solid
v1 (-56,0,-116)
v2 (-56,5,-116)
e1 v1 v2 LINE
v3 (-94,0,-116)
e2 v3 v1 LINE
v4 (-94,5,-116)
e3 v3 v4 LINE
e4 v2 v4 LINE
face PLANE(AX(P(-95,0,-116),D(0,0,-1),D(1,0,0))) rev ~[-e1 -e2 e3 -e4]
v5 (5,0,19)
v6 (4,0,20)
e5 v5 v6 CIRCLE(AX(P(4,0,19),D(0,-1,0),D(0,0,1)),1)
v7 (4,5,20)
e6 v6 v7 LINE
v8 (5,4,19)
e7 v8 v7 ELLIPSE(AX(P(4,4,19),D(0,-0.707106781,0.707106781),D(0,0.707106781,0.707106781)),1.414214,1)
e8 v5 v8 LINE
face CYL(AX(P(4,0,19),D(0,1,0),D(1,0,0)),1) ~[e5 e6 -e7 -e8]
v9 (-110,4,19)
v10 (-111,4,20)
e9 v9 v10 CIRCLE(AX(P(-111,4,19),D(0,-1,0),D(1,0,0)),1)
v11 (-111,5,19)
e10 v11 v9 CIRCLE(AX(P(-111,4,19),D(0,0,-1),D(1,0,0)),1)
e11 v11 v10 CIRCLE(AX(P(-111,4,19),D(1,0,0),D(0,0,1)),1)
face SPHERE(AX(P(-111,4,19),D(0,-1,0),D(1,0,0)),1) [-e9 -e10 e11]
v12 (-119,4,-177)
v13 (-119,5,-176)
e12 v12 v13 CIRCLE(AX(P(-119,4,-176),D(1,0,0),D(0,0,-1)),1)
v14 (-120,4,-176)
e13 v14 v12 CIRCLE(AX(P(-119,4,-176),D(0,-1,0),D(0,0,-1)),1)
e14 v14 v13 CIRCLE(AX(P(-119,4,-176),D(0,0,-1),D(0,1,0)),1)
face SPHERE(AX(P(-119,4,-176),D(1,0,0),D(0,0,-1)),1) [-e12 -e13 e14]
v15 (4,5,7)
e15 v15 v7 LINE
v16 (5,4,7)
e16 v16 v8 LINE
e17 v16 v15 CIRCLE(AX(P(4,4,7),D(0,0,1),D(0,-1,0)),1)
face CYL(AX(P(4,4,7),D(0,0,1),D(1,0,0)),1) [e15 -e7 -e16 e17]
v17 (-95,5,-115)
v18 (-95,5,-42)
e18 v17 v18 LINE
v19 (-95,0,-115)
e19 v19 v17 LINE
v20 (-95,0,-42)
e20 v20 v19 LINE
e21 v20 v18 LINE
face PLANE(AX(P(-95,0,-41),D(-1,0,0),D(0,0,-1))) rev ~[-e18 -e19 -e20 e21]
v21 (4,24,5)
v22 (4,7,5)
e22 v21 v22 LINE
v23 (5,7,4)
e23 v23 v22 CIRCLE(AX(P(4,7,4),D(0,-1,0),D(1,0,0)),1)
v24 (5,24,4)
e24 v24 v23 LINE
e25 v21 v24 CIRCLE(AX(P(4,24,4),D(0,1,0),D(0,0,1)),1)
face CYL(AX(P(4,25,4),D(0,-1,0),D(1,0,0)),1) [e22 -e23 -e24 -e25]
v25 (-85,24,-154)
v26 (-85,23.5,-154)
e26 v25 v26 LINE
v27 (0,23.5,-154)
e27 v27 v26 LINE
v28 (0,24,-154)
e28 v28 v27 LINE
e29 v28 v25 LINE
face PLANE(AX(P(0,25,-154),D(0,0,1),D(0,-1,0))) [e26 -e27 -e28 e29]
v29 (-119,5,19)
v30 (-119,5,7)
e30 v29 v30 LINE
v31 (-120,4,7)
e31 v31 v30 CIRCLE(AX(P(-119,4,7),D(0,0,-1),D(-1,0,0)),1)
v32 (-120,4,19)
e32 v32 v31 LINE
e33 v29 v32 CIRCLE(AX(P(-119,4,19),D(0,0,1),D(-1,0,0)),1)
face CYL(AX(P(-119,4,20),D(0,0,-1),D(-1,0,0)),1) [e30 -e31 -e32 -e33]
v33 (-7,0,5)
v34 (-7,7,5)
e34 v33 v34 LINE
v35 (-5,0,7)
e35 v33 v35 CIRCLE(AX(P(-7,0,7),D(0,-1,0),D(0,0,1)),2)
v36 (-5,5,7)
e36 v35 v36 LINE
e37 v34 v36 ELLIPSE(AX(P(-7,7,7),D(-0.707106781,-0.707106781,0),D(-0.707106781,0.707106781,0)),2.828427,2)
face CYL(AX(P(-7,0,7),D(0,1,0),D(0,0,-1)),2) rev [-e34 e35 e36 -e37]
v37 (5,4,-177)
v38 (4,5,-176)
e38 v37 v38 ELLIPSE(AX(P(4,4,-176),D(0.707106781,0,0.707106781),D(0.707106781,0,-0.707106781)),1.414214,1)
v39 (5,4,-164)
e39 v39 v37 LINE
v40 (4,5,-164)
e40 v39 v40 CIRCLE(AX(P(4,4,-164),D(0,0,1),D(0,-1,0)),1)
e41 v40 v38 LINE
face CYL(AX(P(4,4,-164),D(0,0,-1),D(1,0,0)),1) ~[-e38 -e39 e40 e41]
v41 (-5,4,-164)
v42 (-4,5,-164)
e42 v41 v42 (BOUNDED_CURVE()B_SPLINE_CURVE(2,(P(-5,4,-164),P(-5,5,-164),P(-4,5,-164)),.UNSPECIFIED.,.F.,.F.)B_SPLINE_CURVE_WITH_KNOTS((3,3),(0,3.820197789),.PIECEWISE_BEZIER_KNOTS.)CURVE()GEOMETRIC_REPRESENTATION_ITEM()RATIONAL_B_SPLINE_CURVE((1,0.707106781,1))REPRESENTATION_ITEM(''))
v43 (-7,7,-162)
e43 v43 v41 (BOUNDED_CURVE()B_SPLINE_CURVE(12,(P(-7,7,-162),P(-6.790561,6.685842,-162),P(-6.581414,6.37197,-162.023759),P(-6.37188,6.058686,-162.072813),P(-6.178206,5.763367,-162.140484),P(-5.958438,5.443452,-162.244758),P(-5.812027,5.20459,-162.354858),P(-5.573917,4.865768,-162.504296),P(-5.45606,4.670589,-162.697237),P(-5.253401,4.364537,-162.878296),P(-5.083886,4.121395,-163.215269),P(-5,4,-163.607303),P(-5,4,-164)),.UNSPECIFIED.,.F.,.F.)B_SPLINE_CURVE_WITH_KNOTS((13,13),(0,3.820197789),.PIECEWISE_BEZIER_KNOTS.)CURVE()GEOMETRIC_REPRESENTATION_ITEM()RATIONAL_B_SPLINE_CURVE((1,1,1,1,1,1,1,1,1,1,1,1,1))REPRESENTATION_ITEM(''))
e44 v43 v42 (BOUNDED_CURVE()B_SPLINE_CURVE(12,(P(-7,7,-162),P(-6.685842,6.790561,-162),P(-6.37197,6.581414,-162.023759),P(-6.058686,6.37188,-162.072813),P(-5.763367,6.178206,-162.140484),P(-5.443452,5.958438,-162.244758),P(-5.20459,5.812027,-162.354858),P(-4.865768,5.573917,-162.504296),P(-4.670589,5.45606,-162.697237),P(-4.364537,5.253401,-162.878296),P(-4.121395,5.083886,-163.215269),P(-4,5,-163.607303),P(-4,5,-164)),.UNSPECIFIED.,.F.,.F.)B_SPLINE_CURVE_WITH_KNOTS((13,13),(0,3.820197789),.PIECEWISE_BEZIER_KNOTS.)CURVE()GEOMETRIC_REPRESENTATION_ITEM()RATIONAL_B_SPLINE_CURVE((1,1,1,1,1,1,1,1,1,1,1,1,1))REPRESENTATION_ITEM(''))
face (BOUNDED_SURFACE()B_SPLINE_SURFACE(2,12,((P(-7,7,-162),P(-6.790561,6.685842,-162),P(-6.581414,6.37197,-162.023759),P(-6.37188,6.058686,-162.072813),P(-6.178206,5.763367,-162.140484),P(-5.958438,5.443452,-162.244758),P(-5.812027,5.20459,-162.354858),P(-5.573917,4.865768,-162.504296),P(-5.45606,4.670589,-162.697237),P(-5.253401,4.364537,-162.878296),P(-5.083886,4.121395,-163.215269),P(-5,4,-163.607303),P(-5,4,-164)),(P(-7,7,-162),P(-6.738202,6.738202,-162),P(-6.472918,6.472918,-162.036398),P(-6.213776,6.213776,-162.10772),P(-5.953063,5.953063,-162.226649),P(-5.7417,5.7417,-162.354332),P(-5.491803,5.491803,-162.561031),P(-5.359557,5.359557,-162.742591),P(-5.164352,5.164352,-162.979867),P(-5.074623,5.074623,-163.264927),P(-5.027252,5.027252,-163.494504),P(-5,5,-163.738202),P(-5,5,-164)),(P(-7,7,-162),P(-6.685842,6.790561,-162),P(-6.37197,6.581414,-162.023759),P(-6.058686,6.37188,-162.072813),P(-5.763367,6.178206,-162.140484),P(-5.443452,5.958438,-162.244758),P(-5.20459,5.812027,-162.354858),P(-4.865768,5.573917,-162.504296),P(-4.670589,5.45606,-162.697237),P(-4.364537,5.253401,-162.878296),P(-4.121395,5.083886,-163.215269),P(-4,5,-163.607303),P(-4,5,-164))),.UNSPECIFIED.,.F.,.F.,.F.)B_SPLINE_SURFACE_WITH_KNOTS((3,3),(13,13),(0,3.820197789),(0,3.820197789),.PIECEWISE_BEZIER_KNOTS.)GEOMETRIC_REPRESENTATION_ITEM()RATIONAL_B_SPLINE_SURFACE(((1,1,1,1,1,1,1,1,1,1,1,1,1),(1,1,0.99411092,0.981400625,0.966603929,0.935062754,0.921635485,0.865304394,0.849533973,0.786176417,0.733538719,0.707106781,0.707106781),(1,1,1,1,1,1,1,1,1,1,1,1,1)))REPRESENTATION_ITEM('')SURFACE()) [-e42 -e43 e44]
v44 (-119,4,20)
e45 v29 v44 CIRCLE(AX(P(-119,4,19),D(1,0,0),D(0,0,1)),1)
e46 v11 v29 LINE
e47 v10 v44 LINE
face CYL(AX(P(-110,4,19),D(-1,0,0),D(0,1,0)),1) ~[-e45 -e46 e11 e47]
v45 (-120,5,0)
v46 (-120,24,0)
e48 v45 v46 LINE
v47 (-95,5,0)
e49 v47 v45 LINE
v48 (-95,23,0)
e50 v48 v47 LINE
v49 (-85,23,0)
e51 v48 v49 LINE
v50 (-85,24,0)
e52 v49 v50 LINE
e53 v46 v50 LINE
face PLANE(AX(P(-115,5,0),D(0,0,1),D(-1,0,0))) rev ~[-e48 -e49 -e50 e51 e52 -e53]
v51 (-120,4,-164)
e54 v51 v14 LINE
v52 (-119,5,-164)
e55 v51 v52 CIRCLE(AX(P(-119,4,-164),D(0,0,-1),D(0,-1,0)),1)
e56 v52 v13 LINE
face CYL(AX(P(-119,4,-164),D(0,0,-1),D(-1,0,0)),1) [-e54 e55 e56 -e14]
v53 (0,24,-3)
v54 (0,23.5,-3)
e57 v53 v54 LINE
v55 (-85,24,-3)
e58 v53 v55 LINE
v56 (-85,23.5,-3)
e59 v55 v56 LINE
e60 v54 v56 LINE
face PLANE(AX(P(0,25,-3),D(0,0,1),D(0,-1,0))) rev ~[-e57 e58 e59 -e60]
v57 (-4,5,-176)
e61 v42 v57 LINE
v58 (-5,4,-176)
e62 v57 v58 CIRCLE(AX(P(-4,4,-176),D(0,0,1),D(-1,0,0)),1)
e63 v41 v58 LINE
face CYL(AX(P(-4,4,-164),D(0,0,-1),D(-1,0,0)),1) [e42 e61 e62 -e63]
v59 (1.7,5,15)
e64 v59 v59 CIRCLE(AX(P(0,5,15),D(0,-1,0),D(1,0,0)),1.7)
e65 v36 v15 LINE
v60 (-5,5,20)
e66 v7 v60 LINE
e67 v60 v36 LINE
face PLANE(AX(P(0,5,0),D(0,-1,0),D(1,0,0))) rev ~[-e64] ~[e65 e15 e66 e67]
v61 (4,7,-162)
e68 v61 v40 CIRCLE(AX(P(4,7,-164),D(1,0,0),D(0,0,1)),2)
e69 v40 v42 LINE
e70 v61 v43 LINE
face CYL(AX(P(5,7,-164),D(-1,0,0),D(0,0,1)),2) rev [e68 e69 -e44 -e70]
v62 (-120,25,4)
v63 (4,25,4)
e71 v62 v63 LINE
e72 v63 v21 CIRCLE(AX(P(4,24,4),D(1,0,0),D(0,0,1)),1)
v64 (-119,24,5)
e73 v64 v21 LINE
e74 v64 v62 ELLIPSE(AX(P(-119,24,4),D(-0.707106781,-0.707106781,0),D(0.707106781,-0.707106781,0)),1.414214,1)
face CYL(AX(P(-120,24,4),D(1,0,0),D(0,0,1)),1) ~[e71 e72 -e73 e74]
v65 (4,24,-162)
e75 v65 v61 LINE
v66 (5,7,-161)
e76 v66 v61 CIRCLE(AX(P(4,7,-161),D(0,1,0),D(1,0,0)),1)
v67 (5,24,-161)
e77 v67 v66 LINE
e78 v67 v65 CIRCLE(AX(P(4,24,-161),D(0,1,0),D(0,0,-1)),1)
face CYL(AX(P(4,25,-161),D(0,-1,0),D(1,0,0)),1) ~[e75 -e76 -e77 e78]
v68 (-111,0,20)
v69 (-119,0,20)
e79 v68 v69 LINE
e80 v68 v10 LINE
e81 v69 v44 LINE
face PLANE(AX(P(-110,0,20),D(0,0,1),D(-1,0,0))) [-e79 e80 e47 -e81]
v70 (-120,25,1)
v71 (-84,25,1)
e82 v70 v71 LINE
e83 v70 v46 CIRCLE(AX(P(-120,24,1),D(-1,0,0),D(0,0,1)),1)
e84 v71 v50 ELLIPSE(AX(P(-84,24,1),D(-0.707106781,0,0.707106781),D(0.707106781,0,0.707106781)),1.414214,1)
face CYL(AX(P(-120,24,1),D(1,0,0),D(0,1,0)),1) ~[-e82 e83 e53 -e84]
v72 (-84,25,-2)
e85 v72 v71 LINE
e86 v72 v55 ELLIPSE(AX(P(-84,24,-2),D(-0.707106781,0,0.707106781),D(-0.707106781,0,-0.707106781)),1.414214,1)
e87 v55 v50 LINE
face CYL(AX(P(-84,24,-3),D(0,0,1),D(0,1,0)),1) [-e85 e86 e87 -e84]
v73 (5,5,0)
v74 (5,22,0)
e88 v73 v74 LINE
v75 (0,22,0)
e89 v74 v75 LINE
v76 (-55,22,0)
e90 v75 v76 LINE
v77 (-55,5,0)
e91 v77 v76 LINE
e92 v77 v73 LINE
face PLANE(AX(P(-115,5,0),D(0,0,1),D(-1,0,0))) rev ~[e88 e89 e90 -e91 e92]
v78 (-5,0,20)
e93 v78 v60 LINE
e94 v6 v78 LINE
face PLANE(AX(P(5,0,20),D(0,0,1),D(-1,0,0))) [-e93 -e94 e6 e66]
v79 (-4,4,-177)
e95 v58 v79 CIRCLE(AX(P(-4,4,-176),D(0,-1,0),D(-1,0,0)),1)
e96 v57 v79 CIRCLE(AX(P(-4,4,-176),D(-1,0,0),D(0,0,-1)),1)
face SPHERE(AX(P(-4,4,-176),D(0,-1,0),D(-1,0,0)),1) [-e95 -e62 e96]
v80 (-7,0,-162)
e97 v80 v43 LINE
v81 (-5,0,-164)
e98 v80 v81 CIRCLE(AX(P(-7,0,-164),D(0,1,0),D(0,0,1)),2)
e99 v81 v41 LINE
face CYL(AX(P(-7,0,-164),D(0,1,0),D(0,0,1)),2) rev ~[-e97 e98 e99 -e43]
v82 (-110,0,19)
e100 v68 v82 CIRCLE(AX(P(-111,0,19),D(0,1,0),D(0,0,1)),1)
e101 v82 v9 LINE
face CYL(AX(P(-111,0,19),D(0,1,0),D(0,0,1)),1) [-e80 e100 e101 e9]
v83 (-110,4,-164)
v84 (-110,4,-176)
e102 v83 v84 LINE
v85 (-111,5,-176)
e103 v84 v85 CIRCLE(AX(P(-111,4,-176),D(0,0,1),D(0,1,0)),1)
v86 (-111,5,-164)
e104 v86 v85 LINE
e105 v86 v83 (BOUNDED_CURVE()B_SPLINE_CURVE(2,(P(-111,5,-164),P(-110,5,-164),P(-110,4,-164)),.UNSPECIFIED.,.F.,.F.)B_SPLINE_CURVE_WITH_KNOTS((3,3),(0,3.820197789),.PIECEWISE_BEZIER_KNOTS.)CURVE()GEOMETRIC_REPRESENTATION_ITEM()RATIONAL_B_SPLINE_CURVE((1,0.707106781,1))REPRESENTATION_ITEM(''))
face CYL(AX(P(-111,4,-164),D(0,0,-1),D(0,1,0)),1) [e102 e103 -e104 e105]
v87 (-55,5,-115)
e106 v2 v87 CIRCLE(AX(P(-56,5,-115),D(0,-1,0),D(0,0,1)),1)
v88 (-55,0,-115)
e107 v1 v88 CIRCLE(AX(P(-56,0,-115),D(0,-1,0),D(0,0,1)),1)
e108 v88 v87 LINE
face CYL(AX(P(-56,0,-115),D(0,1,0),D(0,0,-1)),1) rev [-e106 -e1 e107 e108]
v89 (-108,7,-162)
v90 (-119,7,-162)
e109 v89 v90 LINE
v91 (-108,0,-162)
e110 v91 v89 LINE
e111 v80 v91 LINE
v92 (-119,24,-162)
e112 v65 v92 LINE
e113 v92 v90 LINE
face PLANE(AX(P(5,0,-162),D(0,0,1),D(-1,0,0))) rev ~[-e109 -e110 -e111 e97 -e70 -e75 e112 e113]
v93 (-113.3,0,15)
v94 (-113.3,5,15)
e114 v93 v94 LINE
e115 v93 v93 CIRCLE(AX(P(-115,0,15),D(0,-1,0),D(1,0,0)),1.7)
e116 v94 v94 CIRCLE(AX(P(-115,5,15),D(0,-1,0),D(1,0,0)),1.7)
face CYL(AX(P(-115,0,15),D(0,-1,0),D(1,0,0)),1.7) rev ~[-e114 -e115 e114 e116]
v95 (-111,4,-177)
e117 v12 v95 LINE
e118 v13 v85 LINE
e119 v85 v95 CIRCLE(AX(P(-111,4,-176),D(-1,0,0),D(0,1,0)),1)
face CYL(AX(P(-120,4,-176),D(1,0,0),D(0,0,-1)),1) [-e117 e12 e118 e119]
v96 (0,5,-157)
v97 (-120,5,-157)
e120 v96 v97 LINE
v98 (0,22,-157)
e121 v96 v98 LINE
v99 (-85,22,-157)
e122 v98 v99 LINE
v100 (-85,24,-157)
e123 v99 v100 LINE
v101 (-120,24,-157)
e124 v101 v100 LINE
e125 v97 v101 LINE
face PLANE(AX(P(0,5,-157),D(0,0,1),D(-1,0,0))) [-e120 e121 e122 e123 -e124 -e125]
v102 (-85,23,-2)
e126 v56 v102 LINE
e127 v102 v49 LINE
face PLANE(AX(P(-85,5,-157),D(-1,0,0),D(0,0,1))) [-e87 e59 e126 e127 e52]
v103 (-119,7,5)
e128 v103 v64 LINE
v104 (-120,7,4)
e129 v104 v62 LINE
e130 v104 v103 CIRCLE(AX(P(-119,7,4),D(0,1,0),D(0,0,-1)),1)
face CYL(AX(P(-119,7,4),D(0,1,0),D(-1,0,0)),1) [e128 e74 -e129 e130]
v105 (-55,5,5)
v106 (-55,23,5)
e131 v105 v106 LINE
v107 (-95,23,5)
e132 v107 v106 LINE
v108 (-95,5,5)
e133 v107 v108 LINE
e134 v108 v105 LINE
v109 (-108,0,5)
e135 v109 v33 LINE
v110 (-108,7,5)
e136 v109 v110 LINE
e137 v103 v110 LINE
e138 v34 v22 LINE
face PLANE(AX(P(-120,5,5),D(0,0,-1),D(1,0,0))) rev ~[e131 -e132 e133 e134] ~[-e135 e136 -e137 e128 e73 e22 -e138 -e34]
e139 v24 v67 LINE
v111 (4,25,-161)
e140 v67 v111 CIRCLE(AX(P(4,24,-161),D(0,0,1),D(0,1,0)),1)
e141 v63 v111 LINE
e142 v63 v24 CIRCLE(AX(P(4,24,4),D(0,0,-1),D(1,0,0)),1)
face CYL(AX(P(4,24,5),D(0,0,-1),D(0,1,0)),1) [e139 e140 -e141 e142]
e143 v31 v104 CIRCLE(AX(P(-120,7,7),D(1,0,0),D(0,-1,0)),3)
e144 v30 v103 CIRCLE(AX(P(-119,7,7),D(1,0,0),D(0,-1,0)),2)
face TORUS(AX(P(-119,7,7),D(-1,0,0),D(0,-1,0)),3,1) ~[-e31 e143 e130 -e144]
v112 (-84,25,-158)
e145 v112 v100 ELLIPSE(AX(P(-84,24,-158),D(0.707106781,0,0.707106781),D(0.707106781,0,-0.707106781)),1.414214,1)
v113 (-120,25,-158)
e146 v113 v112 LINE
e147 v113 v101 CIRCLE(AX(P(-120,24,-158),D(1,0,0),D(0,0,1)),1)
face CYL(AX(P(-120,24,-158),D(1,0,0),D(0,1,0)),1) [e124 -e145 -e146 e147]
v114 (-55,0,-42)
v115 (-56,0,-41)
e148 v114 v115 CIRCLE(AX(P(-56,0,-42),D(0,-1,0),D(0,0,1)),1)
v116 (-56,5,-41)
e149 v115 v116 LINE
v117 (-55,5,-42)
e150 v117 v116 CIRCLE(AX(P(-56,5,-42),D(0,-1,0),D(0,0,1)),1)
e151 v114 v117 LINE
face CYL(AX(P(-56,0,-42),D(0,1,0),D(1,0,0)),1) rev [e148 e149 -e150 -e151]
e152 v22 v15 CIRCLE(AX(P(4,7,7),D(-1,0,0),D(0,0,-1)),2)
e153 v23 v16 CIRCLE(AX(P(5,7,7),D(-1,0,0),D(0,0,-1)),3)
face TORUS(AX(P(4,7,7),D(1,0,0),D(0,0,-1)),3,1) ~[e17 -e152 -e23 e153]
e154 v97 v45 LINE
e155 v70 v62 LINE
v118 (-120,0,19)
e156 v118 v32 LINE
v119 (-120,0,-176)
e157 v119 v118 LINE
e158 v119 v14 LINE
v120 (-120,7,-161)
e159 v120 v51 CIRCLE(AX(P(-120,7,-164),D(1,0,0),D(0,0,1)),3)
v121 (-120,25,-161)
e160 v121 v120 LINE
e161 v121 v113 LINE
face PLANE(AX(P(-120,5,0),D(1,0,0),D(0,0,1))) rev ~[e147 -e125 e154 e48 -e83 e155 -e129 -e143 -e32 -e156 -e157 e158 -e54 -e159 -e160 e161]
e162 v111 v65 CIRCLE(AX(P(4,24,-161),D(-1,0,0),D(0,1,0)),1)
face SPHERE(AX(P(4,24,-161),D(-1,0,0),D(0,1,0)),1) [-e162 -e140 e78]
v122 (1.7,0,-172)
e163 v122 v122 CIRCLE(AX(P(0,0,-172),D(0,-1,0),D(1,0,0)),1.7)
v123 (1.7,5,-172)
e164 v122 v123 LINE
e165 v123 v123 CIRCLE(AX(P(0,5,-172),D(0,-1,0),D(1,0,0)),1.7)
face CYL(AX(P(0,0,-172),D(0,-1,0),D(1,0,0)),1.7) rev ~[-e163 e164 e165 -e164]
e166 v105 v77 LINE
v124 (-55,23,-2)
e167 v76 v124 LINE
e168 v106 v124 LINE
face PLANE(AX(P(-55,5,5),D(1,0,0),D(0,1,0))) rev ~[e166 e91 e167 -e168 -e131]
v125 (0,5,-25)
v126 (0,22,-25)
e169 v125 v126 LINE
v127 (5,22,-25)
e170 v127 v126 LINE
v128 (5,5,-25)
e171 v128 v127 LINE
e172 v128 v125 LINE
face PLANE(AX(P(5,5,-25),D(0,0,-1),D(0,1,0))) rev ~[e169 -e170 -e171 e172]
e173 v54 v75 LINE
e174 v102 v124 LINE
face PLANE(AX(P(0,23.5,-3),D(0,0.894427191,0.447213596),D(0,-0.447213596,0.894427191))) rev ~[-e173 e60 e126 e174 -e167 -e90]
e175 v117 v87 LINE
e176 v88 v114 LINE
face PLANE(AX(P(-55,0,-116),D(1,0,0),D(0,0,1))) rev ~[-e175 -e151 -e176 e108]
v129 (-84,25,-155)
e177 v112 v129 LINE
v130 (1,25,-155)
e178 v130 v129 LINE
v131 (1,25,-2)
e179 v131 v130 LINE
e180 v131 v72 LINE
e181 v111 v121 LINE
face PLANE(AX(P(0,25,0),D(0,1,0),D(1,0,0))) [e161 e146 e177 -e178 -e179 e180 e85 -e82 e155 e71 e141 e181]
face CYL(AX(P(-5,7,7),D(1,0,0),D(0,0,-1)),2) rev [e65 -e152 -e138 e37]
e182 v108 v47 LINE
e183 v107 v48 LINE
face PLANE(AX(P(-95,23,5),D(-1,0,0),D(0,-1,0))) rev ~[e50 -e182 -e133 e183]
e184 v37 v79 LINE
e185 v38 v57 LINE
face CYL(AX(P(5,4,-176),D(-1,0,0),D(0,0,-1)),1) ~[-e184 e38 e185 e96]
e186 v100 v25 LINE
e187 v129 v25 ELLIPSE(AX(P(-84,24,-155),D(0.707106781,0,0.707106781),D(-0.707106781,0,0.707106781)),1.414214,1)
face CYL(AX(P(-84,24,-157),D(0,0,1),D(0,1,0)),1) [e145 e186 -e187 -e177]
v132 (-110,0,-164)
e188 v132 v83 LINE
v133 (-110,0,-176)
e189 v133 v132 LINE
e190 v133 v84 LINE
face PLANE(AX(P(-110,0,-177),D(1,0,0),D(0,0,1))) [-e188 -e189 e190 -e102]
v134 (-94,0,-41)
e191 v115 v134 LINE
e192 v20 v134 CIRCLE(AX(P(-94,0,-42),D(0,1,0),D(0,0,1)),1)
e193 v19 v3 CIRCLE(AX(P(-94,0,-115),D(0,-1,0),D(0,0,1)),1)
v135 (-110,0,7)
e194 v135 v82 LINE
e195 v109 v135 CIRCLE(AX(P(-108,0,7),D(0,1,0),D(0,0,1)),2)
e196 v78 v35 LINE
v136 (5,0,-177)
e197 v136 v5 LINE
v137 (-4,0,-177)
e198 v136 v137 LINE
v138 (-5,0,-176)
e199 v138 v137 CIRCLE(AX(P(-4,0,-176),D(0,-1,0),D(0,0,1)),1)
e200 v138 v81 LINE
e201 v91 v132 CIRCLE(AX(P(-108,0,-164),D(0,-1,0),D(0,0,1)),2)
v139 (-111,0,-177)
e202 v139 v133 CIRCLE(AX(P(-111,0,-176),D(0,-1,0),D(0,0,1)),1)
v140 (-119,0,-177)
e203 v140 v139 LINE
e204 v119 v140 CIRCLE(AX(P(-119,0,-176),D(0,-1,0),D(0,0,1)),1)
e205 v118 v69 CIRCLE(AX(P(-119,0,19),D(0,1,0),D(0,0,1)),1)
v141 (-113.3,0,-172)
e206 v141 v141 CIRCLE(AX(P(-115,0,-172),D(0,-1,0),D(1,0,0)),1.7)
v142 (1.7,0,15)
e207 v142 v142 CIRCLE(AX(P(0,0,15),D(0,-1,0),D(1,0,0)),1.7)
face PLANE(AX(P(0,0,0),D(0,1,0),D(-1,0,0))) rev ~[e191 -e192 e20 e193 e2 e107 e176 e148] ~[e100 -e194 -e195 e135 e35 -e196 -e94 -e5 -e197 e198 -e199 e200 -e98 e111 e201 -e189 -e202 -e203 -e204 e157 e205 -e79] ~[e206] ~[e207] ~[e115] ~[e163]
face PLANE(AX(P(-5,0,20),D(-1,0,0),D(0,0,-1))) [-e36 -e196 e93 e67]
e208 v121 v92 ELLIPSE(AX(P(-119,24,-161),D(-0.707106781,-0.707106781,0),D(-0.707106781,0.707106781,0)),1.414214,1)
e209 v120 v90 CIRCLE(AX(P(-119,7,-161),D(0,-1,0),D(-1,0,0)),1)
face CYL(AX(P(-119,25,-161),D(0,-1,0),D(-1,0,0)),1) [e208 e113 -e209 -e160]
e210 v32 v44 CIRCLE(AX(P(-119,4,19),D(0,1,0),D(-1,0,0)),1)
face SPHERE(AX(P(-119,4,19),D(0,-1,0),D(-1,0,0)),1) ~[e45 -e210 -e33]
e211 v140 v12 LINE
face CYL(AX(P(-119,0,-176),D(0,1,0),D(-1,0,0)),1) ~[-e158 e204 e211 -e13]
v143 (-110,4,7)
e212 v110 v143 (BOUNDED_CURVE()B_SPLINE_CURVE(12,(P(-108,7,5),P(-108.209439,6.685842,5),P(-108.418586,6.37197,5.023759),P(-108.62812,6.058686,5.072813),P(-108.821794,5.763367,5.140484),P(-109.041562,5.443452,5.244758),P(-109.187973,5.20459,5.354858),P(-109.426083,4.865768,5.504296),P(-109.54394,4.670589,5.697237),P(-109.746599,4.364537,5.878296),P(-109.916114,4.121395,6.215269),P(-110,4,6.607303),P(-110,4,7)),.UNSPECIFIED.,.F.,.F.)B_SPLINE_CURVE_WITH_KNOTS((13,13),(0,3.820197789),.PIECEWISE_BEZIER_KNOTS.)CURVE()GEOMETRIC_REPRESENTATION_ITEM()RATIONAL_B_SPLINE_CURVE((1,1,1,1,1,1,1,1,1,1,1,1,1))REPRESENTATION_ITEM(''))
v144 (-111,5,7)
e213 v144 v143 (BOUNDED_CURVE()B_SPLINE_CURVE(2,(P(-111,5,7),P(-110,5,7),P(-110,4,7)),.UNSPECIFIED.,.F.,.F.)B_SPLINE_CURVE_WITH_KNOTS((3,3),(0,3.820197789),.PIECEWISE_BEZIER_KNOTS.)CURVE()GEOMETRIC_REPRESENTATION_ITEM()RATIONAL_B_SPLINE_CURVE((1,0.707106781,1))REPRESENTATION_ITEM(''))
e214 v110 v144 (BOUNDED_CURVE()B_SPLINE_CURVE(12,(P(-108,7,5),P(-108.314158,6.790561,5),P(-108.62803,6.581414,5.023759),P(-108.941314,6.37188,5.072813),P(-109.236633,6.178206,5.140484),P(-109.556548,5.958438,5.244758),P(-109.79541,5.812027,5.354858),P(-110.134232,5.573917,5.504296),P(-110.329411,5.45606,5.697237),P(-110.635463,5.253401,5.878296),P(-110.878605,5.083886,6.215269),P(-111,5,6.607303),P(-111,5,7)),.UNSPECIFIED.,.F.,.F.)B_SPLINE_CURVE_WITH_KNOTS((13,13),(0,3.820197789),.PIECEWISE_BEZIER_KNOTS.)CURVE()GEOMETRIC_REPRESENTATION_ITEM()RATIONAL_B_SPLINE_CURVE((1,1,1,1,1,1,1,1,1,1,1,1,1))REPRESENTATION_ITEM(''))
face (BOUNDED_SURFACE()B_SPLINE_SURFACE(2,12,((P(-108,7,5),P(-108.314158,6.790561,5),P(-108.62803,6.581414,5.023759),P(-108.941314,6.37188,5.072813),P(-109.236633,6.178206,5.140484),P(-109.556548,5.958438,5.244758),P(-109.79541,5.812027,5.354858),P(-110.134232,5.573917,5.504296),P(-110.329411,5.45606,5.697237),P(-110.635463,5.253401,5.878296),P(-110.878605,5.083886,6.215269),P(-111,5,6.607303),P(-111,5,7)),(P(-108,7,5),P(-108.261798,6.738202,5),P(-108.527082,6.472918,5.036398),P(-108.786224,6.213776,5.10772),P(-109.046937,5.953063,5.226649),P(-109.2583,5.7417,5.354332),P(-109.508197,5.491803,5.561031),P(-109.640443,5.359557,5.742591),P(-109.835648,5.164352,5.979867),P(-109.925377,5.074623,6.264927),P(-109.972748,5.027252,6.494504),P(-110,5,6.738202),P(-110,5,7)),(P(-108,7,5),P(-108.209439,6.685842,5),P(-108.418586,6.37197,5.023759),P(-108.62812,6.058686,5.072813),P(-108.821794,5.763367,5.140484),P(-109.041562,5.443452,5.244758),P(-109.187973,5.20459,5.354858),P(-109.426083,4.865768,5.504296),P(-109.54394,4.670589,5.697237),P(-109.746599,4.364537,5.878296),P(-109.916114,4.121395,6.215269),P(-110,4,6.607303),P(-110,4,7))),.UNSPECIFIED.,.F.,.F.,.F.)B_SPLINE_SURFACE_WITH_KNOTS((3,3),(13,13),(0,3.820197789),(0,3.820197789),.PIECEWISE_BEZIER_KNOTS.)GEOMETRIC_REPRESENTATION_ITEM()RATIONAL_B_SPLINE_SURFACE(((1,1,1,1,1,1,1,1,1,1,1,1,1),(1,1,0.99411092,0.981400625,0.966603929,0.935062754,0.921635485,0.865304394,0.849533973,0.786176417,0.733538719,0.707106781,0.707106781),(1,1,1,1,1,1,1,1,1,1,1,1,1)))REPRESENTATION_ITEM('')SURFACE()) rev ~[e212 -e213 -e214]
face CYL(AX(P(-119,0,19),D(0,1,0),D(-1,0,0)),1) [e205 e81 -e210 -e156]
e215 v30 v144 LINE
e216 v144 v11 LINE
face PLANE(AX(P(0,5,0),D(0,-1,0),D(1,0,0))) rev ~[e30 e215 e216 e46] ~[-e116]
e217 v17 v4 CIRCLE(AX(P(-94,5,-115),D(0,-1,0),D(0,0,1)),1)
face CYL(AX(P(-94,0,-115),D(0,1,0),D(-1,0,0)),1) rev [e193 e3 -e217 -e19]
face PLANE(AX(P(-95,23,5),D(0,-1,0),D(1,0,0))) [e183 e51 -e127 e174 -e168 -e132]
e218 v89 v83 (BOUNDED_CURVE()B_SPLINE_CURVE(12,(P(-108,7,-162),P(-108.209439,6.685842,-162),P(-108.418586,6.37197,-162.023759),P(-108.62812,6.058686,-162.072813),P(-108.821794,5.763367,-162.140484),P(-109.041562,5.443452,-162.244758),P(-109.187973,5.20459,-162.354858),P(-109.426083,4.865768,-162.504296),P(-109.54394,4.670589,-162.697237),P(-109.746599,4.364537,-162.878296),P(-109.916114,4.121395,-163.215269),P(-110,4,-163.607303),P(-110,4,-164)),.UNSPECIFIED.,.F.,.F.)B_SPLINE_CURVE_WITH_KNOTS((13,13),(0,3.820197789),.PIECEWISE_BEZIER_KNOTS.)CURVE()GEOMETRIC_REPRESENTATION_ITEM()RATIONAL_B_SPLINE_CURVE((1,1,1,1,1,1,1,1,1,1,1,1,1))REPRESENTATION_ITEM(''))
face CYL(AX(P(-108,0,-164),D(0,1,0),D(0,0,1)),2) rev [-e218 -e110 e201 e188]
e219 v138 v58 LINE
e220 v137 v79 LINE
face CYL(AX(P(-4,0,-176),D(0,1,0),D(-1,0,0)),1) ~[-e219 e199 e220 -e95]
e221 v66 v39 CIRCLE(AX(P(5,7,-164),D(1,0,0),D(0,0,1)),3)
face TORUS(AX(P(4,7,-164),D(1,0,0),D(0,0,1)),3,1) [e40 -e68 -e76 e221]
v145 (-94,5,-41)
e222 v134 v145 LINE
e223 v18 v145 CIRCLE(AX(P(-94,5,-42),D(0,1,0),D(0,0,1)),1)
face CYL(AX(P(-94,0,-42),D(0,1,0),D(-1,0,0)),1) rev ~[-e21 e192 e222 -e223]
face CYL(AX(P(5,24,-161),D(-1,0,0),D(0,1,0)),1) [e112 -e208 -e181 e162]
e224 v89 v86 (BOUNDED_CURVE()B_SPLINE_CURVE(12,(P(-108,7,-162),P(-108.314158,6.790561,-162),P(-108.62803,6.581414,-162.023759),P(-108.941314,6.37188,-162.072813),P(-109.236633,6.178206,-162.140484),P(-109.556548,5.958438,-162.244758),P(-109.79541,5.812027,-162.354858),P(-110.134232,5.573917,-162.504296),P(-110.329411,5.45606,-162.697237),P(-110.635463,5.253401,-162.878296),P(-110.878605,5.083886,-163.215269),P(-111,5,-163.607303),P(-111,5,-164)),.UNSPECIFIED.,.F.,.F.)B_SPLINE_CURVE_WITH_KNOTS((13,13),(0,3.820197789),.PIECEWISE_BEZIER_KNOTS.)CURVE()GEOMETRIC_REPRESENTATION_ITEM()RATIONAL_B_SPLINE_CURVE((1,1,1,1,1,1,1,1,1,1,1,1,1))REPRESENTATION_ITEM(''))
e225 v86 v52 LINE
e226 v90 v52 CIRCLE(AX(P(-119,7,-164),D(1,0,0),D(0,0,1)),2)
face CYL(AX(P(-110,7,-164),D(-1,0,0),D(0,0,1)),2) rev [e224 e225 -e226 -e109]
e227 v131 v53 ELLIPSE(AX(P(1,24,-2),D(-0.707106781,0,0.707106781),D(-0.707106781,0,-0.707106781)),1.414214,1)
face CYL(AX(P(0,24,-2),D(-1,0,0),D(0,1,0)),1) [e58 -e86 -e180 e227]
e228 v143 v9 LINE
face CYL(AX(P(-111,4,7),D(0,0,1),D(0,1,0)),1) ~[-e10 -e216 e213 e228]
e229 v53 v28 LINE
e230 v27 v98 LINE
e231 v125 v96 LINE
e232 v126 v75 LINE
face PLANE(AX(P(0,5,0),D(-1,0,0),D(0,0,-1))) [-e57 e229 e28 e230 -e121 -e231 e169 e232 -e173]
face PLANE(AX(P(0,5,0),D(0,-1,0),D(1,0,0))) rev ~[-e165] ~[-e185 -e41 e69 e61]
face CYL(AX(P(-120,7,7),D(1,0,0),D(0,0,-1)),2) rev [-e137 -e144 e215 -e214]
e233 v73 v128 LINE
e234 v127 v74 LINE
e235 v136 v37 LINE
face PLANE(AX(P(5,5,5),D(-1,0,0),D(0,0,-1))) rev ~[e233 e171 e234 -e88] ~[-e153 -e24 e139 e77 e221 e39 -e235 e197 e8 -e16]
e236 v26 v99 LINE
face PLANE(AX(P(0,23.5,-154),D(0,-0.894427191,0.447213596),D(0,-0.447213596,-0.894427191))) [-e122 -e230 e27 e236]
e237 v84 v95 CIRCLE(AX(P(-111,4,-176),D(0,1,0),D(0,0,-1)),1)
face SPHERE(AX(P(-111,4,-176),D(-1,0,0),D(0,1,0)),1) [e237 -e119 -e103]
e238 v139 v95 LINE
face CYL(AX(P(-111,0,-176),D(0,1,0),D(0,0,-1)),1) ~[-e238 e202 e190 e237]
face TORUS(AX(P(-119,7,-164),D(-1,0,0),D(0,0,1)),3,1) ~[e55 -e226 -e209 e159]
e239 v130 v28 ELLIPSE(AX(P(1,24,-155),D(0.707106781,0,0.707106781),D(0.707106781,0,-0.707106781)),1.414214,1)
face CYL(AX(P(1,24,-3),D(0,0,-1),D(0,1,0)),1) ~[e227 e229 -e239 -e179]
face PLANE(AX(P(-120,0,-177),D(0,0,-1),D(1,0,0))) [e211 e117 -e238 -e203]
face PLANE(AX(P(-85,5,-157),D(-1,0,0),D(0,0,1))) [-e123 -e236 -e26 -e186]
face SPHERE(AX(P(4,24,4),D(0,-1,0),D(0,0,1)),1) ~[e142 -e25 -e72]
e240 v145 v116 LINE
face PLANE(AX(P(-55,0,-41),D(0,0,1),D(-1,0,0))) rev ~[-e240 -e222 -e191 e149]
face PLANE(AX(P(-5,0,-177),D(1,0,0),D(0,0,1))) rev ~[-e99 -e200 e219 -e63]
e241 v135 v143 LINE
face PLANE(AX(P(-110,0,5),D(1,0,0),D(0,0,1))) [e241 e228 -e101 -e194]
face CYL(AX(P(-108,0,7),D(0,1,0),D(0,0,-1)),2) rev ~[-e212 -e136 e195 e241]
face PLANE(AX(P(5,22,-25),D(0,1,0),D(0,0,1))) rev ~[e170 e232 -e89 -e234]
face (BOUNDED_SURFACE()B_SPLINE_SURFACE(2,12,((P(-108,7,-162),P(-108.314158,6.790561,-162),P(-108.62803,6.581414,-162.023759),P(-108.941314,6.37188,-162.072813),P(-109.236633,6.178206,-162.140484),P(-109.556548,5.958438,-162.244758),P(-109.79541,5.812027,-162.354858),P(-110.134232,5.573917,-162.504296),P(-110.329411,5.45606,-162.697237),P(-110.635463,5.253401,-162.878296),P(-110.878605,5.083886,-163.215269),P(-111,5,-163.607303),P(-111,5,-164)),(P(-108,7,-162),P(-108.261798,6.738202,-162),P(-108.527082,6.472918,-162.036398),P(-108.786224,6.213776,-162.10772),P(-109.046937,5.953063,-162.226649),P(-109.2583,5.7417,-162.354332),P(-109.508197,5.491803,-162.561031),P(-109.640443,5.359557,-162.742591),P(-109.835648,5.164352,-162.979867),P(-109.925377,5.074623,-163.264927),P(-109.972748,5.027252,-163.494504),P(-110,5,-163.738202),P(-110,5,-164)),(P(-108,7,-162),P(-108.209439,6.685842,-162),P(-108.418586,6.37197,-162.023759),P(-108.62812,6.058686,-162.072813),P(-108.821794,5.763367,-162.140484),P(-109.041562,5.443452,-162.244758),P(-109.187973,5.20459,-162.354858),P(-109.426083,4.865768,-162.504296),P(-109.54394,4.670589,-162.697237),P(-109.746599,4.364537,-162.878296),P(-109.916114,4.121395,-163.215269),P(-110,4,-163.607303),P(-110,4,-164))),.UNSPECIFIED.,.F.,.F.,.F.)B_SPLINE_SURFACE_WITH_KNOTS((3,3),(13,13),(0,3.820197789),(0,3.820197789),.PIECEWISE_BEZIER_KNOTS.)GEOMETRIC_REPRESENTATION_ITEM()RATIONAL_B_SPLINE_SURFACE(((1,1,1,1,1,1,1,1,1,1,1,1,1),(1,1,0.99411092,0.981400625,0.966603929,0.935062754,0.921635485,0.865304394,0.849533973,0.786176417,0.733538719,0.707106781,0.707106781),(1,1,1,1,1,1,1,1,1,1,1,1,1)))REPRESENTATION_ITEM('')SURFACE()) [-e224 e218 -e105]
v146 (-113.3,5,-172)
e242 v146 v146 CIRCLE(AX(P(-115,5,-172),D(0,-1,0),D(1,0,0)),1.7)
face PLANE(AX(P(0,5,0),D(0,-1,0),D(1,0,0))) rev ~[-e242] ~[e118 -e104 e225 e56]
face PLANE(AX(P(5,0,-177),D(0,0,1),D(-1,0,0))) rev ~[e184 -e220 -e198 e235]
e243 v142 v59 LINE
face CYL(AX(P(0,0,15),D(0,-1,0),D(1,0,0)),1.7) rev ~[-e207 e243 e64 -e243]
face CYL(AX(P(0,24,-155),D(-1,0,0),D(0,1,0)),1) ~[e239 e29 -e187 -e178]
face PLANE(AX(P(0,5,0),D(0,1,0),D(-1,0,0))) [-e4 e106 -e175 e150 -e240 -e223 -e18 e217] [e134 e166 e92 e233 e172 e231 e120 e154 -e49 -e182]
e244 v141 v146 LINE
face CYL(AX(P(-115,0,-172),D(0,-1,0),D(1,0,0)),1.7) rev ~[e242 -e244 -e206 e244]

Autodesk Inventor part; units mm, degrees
ref_plane "YZ Plane" through (0, 0, 0) normal (1, 0, 0) x (0, 1, 0)
ref_plane "XZ Plane" through (0, 0, 0) normal (0, 1, 0) x (-1, 0, 0)
ref_plane "XY Plane" through (0, 0, 0) normal (0, 0, 1) x (1, 0, 0)
sketch "スケッチ1" plane through (0, 0, 0) normal (0, 1, 0) x (-1, 0, 0)
  line L0 (0, 0) -> (115, 0)
  line L1 (115, 0) -> (115, -157)
  line L2 (115, -157) -> (0, -157)
  line L3 (0, -157) -> (0, 0)
  line L4 (120, -162) -> (120, 5)
  line L5 (120, 5) -> (-5, 5)
  line L6 (-5, 5) -> (-5, -162)
  line L7 (-5, -162) -> (120, -162)
  dimension "d0" = 115
  dimension "d1" = 157
  dimension "d2" = 5
extrude "押し出し1" add sketch "スケッチ1" along normal blind 5 contours L0 L1 L2 L3 | L7 L6 L5 L4
sketch "スケッチ2" plane through (0, 5, 0) normal (0, 1, 0) x (1, 0, 0)
  line L0 (-120, -5) -> (5, -5) projected
  line L1 (5, -5) -> (5, 162) projected
  line L2 (5, 162) -> (-120, 162) projected
  line L3 (-120, 162) -> (-120, -5) projected
  line L4 (-115, 0) -> (0, 0)
  line L5 (0, 0) -> (0, 157)
  line L6 (0, 157) -> (-115, 157)
  line L7 (-115, 157) -> (-115, 0)
  line L8 (-115, 0) -> (-120, 0)
  line L9 (-120, 162) -> (-120, -5) projected
  line L10 (-115, 157) -> (-120, 157)
  point P0 (0, 0)
  dimension "d5" = 5
extrude "押し出し2" add sketch "スケッチ2" along normal blind 20 contours L3 L8 L4 L5 L6 L10 L2 L1 L0
sketch "スケッチ3" plane through (0, 5, -157) normal (-1, 0, 0) x (0, 0, 1)
  line L0 (0, 0) -> (0, 20) projected
  line L1 (0, 20) -> (3, 20)
  line L2 (0, 20) -> (157, 20) projected
  line L3 (3, 20) -> (3, 18.5)
  line L4 (3, 18.5) -> (0, 17)
  line L5 (78.5, 20) -> (78.5, -5)
  line L6 (-5, -5) -> (162, -5) projected
  line L7 (157, 20) -> (154, 20)
  line L8 (154, 20) -> (154, 18.5)
  line L9 (154, 18.5) -> (157, 17)
  line L10 (157, 0) -> (0, 0) projected
  line L11 (157, 0) -> (157, 20) projected
  line L12 (0, 20) -> (157, 20) projected
  line L13 (0, 0) -> (0, 20) projected
  point P0 (157, -5)
  point P1 (157, 17)
  point P2 (154, 20)
  dimension "d8" = 3
  dimension "d9" = 1.5
  dimension "d10" = 1.5
extrude "押し出し3" add sketch "スケッチ3" along normal blind 85 contours L0 L1 L3 L4 | L2 L11 L9 L8
sketch "スケッチ4" plane through (-120, 0, 5) normal (0, 0, 1) x (1, 0, 0)
  line L0 (120, 25) -> (35, 25) projected
  line L1 (65, 25) -> (25, 25)
  line L2 (25, 25) -> (25, 5)
  line L3 (25, 5) -> (65, 5)
  line L4 (65, 5) -> (65, 25)
  line L5 (0, 0) -> (0, 25) projected
  line L6 (0, 5) -> (120, 5) projected
  line L7 (25, 23) -> (65, 23)
  point P0 (120, 0)
  dimension "d13" = 65
  dimension "d14" = 40
  dimension "d15" = 0
  dimension "d16" = 2
extrude "押し出し4" cut sketch "スケッチ4" against normal blind 10 contours L4 L3 L2 L7
sketch "スケッチ5" plane through (0, 0, 0) normal (0, -1, 0) x (1, 0, 0)
  line L0 (-95, -116) -> (-55, -116)
  line L1 (-55, -116) -> (-55, -41)
  line L2 (-55, -41) -> (-95, -41)
  line L3 (-95, -41) -> (-95, -116)
  line L4 (-120, -162) -> (-120, 5) projected
  point P0 (0, 0)
  point P1 (-120, -78.5)
  point P2 (-95, -78.5)
  dimension "d19" = 65
  dimension "d20" = 75
  dimension "d21" = 25
  dimension "d22" = 0
extrude "押し出し5" cut sketch "スケッチ5" against normal through all
sketch "スケッチ6" plane through (5, 0, 5) normal (1, 0, 0) x (0, 0, -1)
  line L0 (5, 5) -> (5, 22) projected
  line L1 (5, 5) -> (30, 5)
  line L2 (30, 5) -> (30, 22)
  line L3 (30, 22) -> (5, 22)
  line L4 (5, 22) -> (5, 5)
  point P0 (5, 0)
  dimension "d25" = 25
  dimension "d26" = 0
extrude "押し出し6" cut sketch "スケッチ6" against normal up to surface (5 mm away)
sketch "スケッチ7" plane through (0, 0, 0) normal (0, -1, 0) x (1, 0, 0)
  circle A0 centre (-115, 15) radius 1.7
  circle A1 centre (0, 15) radius 1.7
  circle A2 centre (-115, -172) radius 1.7
  circle A3 centre (0, -172) radius 1.7
  line L0 (5, -162) -> (-120, -162) projected
  line L1 (-5, -162) -> (5, -162)
  line L2 (5, -162) -> (5, -177)
  line L3 (5, -177) -> (-5, -177)
  line L4 (-5, -177) -> (-5, -162)
  line L5 (-110, -162) -> (-120, -162)
  line L6 (-120, -162) -> (-120, -177)
  line L7 (-120, -177) -> (-110, -177)
  line L8 (-110, -177) -> (-110, -162)
  line L9 (-120, 5) -> (5, 5) projected
  line L10 (-120, 5) -> (-110, 5)
  line L11 (-110, 5) -> (-110, 20)
  line L12 (-110, 20) -> (-120, 20)
  line L13 (-120, 20) -> (-120, 5)
  line L14 (-5, 5) -> (5, 5)
  line L15 (5, 5) -> (5, 20)
  line L16 (5, 20) -> (-5, 20)
  line L17 (-5, 20) -> (-5, 5)
  line L18 (5, 5) -> (5, -162) projected
  line L19 (-120, -162) -> (-120, 5) projected
  circle A4 centre (120, -172) radius 1.7
  circle A5 centre (62.9804, -172) radius 1.525
  point P0 (0, 0)
  dimension "d29" = 3.4
  dimension "d30" = 3.4
  dimension "d31" = 3.4
  dimension "d32" = 3.4
  dimension "d33" = 5
  dimension "d34" = 5
  dimension "d35" = 5
  dimension "d36" = 5
  dimension "d37" = 5
  dimension "d38" = 5
  dimension "d39" = 5
  dimension "d40" = 5
  dimension "d41" = 5
  dimension "d42" = 5
  dimension "d43" = 5
  dimension "d44" = 5
  dimension "d45" = 10
  dimension "d46" = 10
  dimension "d47" = 10
  dimension "d48" = 10
  dimension "d56" = 0
  dimension "d57" = 0
  dimension "d60" = 57.0196
  dimension "d63" = 0
  dimension "d64" = 0
extrude "押し出し7" add sketch "スケッチ7" against normal blind 5 contours L2 L3 L4 L0 | L9 L17 L16 L15 | L8 L7 L6 L0 | L9 L13 L12 L11
fillet "フィレット1" radius 2 8 edges at (-110, 2.5, 5) (-5, 2.5, 5) (-110, 2.5, -162) (-5, 2.5, -162) (0, 5, -162) (-115, 5, -162) (-115, 5, 5) (0, 5, 5)
fillet "フィレット2" radius 1 37 edges at (5, 5, 13.5) (5, 16, 5) (5, 2.5, 20) (-57.5, 25, 5) (-110, 2.5, 20) (-120, 2.5, 20) (-5, 2.5, -177) (-57.5, 25, -162) (5, 25, -78.5) (5, 5, -170.5) (5, 16, -162) (-5.5858, 5.5858, -162.5858) (-5, 5, -170.5) (0, 5, -177) (-115, 5, -177) (-109.4142, 5.5858, -162.5858) (-110, 5, -170.5) (-120, 2.5, -177) (-110, 2.5, -177) (-120, 16, -162) (-120, 5, -170.5) (-120, 5, 13.5) (-120, 16, 5) (-109.4142, 5.5858, 5.5858) (-110, 5, 13.5) (-115, 5, 20) (-42.5, 25, -3) (-102.5, 25, 0) (0, 25, -78.5) (-42.5, 25, -154) (-102.5, 25, -157) (-85, 25, -155.5) (-85, 25, -1.5) (-95, 2.5, -41) (-55, 2.5, -41) (-55, 2.5, -116) (-95, 2.5, -116)
properties part number "pccase"
